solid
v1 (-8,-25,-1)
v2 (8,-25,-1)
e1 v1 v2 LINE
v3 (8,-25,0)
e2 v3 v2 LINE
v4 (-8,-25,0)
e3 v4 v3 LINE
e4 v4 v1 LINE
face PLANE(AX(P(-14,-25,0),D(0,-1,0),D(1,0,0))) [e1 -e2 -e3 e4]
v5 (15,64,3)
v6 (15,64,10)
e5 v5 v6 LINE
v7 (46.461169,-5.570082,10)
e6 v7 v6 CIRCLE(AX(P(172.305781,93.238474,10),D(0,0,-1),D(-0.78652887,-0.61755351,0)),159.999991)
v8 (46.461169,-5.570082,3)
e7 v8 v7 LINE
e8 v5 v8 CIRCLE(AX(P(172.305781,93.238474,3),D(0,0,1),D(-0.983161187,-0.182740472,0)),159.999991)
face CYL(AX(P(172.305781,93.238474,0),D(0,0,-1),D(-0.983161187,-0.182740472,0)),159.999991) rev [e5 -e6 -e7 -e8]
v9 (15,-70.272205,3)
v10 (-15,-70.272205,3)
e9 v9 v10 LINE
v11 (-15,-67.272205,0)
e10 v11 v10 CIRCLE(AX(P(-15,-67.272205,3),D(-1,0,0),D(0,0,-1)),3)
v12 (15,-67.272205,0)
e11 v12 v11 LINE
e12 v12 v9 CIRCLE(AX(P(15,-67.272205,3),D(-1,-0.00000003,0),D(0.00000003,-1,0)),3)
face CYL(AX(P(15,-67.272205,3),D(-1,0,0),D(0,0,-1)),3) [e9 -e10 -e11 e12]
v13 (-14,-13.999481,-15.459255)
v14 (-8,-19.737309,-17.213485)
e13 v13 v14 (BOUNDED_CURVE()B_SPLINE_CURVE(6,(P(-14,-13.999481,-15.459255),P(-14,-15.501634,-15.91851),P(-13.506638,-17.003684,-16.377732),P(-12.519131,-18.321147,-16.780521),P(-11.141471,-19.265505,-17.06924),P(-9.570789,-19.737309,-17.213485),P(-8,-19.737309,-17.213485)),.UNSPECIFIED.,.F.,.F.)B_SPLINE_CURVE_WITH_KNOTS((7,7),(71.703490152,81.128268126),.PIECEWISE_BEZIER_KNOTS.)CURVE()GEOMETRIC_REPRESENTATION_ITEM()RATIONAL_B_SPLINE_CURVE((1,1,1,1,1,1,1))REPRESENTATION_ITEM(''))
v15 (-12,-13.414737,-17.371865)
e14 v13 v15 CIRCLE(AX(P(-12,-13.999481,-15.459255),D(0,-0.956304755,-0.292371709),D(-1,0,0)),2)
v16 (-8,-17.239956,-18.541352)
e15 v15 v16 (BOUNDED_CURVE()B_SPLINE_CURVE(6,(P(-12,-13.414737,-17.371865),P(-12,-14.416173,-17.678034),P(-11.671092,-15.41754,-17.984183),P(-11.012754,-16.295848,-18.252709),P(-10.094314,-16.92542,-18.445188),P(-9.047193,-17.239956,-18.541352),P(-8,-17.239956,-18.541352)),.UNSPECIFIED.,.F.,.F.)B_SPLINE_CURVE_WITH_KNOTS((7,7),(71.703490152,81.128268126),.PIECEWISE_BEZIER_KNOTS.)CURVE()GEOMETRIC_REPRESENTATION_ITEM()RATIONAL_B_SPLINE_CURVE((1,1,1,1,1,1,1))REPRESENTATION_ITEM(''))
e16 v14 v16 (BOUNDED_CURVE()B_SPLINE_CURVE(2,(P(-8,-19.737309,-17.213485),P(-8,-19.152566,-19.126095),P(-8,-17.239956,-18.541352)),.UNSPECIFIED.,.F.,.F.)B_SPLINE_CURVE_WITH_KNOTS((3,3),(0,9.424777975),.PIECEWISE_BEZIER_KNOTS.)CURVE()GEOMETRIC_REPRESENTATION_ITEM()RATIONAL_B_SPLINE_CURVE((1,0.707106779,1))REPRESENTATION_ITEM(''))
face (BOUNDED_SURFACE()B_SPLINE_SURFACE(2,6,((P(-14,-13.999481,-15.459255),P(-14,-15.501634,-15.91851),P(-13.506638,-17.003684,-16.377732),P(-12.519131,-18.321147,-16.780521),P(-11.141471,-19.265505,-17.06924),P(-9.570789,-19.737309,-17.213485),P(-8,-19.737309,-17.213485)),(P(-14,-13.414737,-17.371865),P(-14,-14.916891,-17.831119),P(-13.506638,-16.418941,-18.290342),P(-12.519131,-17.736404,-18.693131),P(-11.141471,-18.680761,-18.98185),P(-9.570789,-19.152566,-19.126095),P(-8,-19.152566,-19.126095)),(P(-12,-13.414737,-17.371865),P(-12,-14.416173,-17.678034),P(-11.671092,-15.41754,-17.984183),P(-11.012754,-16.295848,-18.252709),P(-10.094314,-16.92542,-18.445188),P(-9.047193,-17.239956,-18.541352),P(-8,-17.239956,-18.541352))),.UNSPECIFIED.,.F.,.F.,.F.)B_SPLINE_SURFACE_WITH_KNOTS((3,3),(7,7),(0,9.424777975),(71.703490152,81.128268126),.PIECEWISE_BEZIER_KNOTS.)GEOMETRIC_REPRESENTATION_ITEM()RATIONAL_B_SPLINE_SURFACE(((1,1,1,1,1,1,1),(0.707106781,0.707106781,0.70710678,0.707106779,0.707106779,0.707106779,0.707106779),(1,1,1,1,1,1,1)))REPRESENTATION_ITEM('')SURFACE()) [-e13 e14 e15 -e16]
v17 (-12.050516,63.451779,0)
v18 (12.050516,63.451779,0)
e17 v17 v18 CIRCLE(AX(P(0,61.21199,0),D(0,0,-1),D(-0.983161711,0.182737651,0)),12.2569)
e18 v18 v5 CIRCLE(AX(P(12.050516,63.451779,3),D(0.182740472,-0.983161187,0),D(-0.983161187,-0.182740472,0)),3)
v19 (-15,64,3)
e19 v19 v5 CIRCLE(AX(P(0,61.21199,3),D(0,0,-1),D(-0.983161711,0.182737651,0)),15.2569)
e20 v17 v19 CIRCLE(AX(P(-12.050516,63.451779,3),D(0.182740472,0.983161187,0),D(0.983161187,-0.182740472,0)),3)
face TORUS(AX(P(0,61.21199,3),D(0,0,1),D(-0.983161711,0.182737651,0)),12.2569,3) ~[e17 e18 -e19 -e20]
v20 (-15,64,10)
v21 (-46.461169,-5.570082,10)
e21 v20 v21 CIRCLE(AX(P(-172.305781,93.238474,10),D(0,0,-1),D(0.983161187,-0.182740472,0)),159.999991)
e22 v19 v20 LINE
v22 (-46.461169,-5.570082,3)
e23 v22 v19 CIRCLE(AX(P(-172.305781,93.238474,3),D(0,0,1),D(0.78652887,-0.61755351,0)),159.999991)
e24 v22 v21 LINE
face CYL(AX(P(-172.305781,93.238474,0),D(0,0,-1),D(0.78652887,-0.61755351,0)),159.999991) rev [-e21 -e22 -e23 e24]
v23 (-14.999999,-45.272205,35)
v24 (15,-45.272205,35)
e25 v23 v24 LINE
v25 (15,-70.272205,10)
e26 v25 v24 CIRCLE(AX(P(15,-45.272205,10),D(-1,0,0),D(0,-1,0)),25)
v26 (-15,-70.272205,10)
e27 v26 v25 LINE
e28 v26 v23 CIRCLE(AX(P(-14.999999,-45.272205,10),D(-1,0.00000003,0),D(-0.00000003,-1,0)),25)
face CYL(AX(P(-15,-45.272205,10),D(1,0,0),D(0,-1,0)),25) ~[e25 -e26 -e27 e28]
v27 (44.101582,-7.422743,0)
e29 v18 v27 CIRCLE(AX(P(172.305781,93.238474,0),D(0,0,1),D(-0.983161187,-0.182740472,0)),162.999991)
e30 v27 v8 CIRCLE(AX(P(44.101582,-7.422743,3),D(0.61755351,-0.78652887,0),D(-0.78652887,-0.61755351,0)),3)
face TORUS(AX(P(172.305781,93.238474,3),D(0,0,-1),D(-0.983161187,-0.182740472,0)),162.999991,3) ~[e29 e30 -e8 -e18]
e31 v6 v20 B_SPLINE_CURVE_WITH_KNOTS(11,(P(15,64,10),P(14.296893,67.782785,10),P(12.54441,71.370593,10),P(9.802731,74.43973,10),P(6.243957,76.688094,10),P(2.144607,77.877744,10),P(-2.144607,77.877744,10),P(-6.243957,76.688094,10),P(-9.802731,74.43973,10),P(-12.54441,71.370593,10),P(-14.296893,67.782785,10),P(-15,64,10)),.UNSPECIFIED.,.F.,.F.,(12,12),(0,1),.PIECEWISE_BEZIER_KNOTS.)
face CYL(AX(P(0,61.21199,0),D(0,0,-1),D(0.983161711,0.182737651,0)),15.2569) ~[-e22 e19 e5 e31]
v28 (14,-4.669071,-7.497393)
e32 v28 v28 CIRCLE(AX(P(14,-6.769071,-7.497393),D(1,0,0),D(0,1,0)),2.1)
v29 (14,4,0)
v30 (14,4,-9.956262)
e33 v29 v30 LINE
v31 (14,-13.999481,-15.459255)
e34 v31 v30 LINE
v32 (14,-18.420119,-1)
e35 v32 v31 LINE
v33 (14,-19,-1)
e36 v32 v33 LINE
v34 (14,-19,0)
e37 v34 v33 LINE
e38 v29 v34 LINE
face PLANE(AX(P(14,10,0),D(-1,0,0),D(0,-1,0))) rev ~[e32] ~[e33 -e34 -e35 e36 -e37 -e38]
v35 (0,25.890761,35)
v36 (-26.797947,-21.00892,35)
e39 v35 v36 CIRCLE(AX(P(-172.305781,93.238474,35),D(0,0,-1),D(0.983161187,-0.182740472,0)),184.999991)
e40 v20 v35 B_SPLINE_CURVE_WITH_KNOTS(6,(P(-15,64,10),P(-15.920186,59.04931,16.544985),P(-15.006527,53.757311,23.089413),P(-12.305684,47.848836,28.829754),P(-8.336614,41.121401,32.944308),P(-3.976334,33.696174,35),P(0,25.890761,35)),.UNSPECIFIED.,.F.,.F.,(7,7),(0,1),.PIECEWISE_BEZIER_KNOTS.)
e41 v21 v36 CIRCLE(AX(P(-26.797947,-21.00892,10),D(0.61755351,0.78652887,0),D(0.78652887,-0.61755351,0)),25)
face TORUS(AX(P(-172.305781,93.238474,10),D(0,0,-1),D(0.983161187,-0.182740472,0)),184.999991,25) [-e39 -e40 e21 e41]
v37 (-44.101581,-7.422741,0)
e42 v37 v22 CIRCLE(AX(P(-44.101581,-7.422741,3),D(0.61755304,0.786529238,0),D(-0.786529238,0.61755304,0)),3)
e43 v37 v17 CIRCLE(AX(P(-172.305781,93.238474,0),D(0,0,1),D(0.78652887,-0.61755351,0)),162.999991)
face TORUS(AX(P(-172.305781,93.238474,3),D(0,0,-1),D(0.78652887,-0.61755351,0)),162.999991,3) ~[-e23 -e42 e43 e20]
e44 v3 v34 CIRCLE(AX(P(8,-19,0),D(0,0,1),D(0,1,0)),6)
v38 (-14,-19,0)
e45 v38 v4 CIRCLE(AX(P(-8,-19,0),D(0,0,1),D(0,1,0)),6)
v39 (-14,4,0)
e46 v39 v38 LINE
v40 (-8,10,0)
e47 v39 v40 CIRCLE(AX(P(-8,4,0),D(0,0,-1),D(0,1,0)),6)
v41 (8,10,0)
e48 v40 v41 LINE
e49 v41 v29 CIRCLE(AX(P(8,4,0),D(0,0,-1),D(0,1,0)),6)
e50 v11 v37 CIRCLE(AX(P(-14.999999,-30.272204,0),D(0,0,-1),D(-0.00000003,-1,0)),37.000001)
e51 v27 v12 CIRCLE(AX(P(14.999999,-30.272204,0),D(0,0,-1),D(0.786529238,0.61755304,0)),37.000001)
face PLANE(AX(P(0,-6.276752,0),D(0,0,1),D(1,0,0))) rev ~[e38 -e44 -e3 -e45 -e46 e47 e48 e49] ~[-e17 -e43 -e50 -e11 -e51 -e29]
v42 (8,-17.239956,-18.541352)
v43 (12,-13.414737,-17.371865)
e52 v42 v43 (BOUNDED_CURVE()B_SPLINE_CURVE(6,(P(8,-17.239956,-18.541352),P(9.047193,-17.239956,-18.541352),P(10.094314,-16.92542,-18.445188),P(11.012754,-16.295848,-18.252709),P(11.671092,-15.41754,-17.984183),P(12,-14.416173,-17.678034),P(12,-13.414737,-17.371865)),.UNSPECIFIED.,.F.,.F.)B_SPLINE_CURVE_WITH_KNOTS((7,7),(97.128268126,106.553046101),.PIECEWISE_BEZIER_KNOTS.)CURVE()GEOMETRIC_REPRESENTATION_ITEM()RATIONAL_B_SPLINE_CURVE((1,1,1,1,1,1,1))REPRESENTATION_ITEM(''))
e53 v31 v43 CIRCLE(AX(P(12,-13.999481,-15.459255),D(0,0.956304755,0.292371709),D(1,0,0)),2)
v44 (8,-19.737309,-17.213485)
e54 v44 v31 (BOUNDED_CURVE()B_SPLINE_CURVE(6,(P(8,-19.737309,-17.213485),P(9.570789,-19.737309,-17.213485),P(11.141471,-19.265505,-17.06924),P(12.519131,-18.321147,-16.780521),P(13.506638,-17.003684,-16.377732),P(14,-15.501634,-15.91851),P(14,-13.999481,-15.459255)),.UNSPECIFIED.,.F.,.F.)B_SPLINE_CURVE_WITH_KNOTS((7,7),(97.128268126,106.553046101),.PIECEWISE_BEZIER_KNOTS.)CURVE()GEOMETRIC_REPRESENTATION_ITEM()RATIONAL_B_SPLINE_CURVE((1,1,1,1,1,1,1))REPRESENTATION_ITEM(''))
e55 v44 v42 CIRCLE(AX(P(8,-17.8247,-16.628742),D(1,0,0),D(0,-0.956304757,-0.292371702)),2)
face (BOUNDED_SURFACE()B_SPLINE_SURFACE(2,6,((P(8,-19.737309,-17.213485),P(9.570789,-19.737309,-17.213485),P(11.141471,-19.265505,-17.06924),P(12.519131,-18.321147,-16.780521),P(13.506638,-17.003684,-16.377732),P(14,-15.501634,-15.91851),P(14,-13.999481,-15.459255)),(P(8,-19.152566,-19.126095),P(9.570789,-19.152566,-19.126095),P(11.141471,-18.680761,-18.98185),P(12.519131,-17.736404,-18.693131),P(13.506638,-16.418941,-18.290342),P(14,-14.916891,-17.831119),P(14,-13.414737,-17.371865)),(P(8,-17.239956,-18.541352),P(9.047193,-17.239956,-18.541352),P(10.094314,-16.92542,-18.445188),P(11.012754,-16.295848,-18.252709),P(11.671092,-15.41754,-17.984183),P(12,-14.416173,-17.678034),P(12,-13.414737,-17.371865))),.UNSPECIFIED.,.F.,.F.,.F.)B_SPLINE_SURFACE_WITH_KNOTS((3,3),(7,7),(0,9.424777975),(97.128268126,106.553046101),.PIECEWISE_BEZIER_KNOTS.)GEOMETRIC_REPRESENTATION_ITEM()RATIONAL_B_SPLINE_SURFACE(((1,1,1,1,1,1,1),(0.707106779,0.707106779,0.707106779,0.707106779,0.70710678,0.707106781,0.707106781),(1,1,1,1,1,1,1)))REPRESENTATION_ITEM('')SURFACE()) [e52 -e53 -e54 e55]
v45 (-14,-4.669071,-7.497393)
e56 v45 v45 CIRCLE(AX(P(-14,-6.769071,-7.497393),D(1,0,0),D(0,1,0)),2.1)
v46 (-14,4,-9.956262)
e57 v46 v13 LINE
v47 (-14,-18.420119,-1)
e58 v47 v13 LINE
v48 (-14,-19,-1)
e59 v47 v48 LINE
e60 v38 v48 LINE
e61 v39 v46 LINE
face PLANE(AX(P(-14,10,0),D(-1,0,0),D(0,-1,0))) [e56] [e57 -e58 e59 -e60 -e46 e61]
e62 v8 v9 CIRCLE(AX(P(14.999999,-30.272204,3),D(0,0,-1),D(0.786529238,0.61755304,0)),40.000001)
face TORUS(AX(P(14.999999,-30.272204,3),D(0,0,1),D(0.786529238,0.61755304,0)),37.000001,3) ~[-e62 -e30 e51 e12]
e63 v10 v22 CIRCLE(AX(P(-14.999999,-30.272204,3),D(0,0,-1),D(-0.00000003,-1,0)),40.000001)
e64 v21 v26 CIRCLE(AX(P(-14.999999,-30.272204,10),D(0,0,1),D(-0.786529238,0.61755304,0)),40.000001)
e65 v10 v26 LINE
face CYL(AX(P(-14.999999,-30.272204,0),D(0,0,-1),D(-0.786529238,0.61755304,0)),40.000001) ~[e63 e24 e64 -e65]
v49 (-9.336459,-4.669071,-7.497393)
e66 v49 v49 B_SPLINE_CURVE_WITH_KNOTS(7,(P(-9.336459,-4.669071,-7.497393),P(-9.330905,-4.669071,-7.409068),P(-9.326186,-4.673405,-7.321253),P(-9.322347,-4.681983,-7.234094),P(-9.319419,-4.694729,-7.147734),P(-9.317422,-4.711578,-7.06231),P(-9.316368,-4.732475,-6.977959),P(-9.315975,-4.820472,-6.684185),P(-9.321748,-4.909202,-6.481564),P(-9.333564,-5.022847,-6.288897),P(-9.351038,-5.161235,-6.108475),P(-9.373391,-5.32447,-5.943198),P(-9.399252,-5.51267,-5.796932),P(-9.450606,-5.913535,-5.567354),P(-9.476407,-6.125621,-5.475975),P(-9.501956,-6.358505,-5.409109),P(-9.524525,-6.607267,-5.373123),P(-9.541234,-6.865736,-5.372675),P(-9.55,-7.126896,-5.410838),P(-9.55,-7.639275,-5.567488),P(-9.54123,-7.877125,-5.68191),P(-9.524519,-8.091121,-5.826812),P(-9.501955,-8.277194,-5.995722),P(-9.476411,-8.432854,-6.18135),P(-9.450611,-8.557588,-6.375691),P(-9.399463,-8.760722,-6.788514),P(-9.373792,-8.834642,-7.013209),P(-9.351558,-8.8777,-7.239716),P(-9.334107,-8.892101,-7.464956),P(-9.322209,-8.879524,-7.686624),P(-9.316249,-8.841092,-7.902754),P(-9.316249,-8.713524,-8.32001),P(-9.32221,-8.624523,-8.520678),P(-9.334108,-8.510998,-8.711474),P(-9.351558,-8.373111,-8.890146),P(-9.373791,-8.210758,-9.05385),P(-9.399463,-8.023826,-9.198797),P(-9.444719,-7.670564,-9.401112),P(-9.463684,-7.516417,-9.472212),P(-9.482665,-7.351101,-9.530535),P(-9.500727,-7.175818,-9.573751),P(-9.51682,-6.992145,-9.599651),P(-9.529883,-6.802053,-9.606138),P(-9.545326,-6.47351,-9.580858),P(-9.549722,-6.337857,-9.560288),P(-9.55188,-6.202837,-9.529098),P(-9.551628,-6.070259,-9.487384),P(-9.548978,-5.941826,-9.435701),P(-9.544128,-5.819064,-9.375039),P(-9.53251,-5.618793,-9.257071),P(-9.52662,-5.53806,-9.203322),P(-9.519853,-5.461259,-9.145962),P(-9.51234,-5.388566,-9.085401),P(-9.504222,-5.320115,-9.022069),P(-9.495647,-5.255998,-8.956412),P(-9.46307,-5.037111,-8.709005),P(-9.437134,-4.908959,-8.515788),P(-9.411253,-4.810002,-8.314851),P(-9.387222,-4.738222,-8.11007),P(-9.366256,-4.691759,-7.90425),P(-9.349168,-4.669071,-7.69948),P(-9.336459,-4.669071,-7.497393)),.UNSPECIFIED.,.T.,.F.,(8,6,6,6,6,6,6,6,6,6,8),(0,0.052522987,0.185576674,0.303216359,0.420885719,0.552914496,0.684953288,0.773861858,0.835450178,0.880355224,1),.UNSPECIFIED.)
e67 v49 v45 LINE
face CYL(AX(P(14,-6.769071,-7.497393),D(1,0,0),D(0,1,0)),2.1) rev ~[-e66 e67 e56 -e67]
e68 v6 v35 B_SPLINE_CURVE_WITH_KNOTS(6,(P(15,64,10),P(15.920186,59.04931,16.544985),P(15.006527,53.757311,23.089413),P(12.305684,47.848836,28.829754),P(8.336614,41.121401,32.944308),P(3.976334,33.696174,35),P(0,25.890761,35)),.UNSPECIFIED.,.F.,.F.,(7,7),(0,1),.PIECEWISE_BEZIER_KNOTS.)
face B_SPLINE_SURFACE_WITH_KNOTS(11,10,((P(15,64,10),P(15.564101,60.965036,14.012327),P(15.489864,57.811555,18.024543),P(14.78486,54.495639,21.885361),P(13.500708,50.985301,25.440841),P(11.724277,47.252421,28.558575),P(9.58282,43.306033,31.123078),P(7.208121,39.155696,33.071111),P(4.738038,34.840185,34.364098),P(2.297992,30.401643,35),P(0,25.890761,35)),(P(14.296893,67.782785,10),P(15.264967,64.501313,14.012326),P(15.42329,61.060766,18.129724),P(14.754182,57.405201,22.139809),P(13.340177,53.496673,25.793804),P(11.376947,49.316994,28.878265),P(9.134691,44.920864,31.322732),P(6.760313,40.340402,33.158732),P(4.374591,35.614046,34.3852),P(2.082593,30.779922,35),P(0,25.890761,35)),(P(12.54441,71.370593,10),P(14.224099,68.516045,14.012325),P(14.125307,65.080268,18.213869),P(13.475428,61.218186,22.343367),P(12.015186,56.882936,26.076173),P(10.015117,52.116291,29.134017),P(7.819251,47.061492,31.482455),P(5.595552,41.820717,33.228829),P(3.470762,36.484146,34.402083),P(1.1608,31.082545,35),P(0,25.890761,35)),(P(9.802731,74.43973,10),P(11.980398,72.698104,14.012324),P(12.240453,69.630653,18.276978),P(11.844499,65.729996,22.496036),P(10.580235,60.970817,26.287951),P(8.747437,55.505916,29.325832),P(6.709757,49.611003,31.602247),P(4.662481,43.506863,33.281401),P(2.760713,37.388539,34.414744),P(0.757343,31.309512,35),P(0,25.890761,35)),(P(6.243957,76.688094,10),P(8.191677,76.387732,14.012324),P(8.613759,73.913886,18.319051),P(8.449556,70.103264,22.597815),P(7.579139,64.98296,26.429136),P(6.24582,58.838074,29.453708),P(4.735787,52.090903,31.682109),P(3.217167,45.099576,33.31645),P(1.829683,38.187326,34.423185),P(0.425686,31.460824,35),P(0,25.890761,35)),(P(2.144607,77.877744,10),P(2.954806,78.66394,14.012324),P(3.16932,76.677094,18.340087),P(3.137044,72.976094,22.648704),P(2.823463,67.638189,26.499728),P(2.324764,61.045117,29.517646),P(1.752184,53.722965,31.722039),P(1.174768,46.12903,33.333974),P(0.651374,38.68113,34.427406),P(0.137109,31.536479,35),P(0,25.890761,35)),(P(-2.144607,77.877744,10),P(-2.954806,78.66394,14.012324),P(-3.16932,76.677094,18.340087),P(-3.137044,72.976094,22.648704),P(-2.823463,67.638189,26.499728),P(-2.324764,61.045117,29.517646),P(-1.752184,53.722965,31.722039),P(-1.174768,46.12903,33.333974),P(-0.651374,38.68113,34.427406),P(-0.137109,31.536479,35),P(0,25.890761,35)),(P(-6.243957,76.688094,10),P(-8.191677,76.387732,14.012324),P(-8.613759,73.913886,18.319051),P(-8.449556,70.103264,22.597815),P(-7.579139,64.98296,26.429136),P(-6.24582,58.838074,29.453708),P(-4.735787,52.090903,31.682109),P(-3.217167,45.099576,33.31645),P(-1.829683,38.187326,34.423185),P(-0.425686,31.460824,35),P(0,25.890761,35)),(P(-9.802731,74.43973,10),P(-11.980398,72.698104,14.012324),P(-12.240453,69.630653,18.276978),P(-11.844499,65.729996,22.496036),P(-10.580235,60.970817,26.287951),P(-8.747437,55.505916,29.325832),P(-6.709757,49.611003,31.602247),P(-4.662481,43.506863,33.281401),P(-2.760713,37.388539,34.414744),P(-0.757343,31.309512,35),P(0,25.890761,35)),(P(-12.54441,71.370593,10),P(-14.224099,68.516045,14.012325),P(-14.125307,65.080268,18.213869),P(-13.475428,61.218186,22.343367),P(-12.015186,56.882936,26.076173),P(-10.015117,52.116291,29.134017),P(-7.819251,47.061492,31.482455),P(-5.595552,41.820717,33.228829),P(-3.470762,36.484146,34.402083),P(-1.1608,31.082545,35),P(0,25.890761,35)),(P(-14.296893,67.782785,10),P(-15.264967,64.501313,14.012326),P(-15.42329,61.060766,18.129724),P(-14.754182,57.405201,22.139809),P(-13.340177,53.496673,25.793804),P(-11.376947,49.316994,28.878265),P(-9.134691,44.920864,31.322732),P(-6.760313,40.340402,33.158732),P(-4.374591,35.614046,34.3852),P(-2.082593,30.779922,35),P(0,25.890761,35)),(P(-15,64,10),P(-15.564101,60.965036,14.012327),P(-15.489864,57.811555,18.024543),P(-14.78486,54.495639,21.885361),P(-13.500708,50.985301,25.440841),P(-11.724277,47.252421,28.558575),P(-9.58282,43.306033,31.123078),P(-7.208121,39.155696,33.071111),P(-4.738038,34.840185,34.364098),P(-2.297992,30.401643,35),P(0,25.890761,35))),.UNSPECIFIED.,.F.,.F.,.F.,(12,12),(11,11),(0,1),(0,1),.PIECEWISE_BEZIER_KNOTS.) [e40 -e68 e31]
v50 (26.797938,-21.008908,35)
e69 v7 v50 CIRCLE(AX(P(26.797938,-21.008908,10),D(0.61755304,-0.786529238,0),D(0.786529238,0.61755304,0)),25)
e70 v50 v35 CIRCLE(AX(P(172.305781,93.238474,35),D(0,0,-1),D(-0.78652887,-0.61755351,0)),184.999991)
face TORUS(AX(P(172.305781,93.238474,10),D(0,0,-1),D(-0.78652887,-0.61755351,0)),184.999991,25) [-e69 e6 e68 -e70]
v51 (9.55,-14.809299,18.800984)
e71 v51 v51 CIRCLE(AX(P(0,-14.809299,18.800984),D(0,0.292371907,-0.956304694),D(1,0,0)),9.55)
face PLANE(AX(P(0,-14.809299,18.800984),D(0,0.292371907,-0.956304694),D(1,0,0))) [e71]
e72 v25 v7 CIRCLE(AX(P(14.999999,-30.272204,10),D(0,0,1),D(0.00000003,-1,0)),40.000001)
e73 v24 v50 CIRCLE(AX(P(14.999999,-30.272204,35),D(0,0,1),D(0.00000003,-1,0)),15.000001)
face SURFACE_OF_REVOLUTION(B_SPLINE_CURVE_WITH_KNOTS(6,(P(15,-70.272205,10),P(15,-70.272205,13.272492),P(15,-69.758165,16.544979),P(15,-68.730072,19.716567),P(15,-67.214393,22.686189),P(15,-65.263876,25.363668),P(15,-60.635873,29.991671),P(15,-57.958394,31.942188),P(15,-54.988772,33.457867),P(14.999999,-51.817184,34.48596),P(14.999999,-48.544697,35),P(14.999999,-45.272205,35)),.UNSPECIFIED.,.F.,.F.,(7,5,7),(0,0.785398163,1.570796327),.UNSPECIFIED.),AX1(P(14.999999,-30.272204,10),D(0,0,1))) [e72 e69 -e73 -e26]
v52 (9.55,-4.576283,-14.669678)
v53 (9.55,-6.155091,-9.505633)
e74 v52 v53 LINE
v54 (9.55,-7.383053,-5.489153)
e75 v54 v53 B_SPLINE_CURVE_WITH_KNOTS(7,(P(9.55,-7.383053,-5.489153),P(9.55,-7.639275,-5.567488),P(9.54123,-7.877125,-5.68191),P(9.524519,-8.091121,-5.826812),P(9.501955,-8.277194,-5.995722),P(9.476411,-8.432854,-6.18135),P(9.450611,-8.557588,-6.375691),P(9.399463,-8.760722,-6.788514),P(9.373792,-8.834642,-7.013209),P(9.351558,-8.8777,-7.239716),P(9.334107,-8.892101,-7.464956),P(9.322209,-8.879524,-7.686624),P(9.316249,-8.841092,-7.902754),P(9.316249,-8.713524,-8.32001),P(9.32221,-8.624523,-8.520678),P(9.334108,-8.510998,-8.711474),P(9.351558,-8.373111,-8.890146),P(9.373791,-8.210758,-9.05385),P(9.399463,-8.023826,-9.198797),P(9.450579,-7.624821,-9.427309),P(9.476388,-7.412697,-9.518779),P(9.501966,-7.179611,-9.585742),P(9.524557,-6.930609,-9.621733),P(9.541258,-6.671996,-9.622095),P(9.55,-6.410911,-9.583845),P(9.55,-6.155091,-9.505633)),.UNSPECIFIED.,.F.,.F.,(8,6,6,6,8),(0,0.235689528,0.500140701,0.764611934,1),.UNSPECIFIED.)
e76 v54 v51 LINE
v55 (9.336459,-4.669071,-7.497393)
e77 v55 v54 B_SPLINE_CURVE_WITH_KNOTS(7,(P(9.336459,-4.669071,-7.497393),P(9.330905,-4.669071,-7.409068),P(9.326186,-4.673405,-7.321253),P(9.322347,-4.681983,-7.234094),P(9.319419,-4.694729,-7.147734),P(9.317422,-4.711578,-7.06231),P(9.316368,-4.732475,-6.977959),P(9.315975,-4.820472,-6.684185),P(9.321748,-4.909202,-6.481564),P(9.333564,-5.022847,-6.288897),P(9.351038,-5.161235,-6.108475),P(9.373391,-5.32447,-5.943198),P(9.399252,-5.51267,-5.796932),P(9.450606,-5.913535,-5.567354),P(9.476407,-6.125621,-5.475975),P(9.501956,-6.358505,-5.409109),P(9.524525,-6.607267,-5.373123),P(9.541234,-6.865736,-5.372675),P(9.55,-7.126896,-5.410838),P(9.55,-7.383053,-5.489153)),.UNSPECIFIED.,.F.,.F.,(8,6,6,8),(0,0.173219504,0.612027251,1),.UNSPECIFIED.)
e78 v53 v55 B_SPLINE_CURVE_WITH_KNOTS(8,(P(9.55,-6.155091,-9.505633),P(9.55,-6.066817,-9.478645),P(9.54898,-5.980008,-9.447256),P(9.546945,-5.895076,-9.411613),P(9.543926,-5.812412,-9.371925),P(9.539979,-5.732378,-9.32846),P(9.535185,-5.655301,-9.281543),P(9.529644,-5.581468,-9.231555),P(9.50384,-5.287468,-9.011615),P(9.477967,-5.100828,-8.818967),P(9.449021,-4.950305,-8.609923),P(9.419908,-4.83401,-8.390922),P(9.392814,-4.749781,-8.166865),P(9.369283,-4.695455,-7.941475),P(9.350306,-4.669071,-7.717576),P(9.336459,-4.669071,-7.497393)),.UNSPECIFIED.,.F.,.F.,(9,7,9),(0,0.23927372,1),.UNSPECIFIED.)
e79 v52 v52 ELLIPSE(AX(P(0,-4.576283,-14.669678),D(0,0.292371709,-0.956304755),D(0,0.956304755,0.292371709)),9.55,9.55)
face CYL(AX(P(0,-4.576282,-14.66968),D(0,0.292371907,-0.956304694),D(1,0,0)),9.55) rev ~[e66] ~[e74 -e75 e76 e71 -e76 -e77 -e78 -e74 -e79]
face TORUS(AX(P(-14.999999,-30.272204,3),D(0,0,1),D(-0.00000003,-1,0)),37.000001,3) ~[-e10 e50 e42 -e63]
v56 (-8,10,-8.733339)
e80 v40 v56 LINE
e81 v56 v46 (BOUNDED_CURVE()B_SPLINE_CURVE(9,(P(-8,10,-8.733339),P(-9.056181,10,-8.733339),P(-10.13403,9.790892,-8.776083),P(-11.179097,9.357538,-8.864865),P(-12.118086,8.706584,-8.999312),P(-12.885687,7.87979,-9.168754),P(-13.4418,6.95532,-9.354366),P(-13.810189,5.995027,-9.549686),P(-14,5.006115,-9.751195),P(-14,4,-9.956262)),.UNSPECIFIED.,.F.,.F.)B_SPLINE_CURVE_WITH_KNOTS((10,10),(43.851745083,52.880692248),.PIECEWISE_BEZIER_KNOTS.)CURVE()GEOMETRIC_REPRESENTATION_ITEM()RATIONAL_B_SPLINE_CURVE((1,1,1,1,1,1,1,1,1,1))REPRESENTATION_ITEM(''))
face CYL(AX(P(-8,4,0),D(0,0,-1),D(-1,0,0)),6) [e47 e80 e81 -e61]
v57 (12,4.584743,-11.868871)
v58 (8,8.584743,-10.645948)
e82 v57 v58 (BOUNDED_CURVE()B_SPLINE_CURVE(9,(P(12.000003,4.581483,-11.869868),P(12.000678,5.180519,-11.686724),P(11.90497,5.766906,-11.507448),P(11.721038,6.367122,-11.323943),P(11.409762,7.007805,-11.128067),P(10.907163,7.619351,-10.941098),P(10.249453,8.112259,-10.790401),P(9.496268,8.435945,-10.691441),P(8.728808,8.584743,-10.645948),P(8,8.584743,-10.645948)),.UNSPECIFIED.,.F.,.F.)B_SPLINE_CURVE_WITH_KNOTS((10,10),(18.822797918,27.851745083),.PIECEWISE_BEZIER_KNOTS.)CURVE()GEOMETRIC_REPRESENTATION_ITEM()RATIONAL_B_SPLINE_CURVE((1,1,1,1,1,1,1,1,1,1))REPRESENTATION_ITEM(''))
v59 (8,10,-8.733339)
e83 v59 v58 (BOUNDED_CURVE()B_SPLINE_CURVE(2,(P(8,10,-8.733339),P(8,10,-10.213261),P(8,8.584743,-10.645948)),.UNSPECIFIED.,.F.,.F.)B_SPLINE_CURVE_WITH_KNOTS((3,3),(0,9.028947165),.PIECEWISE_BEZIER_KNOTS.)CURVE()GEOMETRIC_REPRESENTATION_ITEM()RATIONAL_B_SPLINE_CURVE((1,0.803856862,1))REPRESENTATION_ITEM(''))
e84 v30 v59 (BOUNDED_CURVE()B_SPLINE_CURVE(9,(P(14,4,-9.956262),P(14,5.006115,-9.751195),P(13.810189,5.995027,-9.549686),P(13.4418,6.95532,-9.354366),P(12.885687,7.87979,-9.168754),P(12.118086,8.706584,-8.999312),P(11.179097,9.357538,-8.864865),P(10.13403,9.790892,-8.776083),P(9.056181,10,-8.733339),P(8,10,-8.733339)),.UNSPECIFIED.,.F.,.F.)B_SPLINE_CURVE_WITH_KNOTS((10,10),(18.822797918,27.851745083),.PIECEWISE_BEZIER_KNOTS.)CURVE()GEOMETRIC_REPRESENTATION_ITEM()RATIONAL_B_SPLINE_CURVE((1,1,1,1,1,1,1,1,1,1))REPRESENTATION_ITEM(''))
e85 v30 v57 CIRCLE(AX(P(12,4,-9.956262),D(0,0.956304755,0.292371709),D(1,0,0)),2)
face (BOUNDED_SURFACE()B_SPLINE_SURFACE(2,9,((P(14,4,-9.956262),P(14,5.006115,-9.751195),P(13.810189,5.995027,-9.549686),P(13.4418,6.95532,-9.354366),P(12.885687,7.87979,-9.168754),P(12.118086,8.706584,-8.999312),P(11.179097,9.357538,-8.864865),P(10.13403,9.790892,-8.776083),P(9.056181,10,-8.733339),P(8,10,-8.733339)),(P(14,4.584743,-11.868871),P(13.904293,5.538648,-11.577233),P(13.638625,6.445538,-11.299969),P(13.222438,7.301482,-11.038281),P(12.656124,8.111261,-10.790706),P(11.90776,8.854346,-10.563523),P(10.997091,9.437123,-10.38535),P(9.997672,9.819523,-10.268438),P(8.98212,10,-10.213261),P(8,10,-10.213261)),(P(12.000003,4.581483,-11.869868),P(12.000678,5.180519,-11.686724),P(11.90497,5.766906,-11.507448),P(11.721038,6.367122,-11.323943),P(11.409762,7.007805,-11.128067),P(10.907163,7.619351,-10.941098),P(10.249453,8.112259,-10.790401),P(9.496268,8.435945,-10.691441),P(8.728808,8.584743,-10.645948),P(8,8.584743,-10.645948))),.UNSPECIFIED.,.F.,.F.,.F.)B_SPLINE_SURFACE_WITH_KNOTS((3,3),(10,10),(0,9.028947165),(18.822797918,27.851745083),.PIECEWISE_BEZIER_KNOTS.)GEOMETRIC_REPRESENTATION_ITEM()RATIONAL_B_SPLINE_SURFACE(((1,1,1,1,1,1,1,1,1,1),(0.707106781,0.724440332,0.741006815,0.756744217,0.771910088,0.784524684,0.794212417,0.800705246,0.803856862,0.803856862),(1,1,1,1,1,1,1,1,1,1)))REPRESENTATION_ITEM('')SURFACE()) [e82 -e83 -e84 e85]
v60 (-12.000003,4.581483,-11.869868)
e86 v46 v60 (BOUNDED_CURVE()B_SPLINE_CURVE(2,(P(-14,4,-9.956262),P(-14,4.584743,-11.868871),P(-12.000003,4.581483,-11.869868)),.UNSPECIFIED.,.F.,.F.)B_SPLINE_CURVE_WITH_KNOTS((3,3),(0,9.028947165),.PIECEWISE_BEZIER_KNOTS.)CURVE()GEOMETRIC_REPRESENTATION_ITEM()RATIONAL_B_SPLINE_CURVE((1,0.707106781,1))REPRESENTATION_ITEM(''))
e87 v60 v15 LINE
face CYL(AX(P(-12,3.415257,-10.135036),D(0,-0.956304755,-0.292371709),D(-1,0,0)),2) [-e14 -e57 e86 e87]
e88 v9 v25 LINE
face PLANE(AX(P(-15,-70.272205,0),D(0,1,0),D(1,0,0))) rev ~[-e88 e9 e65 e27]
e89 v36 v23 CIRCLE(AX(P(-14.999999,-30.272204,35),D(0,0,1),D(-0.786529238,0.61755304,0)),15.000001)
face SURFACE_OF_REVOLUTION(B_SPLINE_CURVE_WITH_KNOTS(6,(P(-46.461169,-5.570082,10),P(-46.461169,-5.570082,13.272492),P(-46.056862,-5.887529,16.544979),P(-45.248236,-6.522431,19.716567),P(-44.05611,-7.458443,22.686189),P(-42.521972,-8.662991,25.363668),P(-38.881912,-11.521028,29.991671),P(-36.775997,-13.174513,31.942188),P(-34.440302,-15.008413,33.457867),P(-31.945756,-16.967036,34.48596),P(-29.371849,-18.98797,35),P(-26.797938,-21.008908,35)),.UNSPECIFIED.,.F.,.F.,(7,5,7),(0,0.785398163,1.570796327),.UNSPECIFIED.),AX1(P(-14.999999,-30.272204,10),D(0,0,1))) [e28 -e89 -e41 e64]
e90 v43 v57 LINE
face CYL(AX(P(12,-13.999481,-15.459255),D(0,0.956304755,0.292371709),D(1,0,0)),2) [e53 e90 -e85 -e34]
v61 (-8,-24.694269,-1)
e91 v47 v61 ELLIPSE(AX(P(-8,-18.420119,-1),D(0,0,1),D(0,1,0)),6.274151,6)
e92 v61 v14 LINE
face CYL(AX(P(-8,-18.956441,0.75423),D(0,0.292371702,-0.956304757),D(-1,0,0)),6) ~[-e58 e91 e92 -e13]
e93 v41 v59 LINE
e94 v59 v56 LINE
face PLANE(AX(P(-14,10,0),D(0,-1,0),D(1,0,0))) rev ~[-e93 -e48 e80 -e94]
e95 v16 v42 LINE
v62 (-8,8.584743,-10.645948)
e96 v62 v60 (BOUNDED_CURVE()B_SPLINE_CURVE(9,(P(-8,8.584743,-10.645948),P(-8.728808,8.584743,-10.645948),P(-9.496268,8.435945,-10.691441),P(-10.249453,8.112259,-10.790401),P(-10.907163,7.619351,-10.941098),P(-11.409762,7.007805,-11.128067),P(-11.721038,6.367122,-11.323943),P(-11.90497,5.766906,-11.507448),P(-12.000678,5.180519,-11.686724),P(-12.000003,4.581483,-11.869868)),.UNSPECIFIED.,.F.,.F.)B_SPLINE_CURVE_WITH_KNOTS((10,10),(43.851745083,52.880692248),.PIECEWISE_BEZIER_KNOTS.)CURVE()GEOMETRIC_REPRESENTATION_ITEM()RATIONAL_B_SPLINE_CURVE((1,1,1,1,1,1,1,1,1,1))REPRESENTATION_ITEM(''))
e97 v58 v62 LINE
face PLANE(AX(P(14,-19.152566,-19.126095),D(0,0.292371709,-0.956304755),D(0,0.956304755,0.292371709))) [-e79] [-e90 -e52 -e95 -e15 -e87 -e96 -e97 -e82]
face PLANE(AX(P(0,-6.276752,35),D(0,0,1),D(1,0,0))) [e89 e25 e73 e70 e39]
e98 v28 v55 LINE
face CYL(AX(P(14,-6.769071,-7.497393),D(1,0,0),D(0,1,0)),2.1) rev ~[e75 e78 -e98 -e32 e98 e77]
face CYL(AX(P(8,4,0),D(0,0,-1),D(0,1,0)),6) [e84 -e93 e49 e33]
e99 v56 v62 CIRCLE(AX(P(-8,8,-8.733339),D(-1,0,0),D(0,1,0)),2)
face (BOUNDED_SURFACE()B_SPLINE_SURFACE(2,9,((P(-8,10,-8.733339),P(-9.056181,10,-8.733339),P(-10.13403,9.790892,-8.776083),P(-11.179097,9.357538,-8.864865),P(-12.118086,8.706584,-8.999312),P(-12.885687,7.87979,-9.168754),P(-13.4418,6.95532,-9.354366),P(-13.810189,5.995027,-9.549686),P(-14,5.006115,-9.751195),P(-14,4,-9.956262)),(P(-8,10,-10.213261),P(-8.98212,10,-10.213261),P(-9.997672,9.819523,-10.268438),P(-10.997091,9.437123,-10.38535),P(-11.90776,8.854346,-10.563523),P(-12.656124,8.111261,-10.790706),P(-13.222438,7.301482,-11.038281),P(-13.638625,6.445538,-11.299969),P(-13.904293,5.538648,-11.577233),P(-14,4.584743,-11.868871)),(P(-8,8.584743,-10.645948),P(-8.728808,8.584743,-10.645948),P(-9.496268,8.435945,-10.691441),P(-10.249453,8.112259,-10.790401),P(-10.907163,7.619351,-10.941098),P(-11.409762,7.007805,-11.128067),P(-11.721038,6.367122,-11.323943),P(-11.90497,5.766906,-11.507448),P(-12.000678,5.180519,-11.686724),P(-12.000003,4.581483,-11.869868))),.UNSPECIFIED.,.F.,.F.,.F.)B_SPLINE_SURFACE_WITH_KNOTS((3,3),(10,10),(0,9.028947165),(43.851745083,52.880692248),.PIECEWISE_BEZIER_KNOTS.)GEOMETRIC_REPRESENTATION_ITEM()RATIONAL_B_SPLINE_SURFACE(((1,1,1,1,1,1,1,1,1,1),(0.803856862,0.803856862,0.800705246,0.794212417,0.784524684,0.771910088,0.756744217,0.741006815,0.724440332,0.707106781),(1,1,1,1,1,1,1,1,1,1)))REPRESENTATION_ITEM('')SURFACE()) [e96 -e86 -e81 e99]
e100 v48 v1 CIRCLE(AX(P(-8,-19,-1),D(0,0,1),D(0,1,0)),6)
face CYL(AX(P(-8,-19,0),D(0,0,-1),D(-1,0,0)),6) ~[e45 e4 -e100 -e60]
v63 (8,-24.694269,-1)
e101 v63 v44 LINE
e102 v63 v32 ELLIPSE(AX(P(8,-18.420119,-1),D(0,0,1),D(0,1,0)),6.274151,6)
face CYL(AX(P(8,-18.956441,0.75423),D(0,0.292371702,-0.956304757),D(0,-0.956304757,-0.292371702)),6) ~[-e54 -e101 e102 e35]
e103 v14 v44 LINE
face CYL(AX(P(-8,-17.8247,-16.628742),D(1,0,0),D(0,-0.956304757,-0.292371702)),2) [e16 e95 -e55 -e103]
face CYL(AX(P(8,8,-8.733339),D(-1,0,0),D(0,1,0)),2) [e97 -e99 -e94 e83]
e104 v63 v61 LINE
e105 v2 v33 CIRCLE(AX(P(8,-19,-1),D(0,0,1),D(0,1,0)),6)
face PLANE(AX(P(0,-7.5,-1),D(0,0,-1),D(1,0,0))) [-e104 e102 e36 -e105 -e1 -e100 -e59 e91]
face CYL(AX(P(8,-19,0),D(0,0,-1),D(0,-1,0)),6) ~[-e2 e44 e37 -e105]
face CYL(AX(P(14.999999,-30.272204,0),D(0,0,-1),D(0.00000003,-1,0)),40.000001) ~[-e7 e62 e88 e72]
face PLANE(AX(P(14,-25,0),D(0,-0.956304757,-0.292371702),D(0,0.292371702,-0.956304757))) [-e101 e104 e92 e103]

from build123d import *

# Parameters (mm, degrees)
PAD_DEPTH       = 35
FILLET_R        = 25
SKETCH001_W     = 28
SKETCH001_H     = 35
PAD001_DEPTH    = 1
PAD002_DEPTH    = 28
SKETCH004_R     = 9.55
POCKET_DEPTH    = 35
SKETCH005_R     = 2.1
POCKET001_DEPTH = 69.001
FILLET001_R     = 6
FILLET002_R     = 2
FILLET003_R     = 3
FILLET004_R     = 6


with BuildPart() as part:
    # Sketch → Pad (new body)
    with BuildSketch(Plane.XY):
        with BuildLine():
            ThreePointArc((15, 64), (0, 76.46889), (-15, 64))
            ThreePointArc((-46.461169, -5.570082), (-26.519858, 27.310773), (-15, 64))
            ThreePointArc((-46.461169, -5.570082), (-50.972801, -47.763847), (-15, -70.272205))
            Line((-15, -70.272205), (15, -70.272205))
            ThreePointArc((15, -70.272205), (50.972801, -47.763847), (46.461169, -5.570082))
            ThreePointArc((15, 64), (26.519858, 27.310773), (46.461169, -5.570082))
        make_face()
    extrude(amount=PAD_DEPTH)

    # Fillet
    fillet_edges = [part.edges().sort_by_distance(p)[0] for p in [
        (0, 76.46889, 35),
    ]]
    fillet(fillet_edges, radius=FILLET_R)

    # Sketch001 → Pad001 (new body)
    with BuildSketch(Plane(origin=(0, 0, 0), x_dir=(1, 0, 0), z_dir=(0, 0, -1))):
        with Locations((0, 7.5)):
            Rectangle(SKETCH001_W, SKETCH001_H)
    extrude(amount=PAD001_DEPTH)

    # Sketch002 → Pad002 (new body)
    with BuildSketch(Plane.YZ.offset(14)):
        Polygon((-25, 0), (-19.152566, -19.126095), (10, -10.213261), (10, 0), align=None)
    extrude(amount=-PAD002_DEPTH)

    # Sketch004 → Pocket (cut)
    with BuildSketch(Plane(origin=(0, 3.710404, -12.136184), x_dir=(1, 0, 0), z_dir=(0, 0.292372, -0.956305))):
        with Locations((0, 8.66532)):
            Circle(SKETCH004_R)
    extrude(amount=-POCKET_DEPTH, mode=Mode.SUBTRACT)

    # Sketch005 → Pocket001 (cut, through all)
    with BuildSketch(Plane.YZ.offset(14)):
        with Locations((-6.769071, -7.497393)):
            Circle(SKETCH005_R)
    extrude(amount=-POCKET001_DEPTH, mode=Mode.SUBTRACT)

    # Fillet001
    fillet001_edges = [part.edges().sort_by_distance(p)[0] for p in [
        (14, 10, -5.606631),
        (-14, 10, -5.606631),
        (-14, -21.923418, -10.063048),
        (14, -21.923418, -10.063048),
    ]]
    fillet(fillet001_edges, radius=FILLET001_R)

    # Fillet002
    fillet002_edges = [part.edges().sort_by_distance(p)[0] for p in [
        (14, -4.707369, -14.709755),
    ]]
    fillet(fillet002_edges, radius=FILLET002_R)

    # Fillet003
    fillet003_edges = [part.edges().sort_by_distance(p)[0] for p in [
        (26.519858, 27.310773, 0),
    ]]
    fillet(fillet003_edges, radius=FILLET003_R)

    # Fillet004
    fillet004_edges = [part.edges().sort_by_distance(p)[0] for p in [
        (-14, -25, -0.5),
        (14, -25, -0.5),
    ]]
    fillet(fillet004_edges, radius=FILLET004_R)


solid = part.part
